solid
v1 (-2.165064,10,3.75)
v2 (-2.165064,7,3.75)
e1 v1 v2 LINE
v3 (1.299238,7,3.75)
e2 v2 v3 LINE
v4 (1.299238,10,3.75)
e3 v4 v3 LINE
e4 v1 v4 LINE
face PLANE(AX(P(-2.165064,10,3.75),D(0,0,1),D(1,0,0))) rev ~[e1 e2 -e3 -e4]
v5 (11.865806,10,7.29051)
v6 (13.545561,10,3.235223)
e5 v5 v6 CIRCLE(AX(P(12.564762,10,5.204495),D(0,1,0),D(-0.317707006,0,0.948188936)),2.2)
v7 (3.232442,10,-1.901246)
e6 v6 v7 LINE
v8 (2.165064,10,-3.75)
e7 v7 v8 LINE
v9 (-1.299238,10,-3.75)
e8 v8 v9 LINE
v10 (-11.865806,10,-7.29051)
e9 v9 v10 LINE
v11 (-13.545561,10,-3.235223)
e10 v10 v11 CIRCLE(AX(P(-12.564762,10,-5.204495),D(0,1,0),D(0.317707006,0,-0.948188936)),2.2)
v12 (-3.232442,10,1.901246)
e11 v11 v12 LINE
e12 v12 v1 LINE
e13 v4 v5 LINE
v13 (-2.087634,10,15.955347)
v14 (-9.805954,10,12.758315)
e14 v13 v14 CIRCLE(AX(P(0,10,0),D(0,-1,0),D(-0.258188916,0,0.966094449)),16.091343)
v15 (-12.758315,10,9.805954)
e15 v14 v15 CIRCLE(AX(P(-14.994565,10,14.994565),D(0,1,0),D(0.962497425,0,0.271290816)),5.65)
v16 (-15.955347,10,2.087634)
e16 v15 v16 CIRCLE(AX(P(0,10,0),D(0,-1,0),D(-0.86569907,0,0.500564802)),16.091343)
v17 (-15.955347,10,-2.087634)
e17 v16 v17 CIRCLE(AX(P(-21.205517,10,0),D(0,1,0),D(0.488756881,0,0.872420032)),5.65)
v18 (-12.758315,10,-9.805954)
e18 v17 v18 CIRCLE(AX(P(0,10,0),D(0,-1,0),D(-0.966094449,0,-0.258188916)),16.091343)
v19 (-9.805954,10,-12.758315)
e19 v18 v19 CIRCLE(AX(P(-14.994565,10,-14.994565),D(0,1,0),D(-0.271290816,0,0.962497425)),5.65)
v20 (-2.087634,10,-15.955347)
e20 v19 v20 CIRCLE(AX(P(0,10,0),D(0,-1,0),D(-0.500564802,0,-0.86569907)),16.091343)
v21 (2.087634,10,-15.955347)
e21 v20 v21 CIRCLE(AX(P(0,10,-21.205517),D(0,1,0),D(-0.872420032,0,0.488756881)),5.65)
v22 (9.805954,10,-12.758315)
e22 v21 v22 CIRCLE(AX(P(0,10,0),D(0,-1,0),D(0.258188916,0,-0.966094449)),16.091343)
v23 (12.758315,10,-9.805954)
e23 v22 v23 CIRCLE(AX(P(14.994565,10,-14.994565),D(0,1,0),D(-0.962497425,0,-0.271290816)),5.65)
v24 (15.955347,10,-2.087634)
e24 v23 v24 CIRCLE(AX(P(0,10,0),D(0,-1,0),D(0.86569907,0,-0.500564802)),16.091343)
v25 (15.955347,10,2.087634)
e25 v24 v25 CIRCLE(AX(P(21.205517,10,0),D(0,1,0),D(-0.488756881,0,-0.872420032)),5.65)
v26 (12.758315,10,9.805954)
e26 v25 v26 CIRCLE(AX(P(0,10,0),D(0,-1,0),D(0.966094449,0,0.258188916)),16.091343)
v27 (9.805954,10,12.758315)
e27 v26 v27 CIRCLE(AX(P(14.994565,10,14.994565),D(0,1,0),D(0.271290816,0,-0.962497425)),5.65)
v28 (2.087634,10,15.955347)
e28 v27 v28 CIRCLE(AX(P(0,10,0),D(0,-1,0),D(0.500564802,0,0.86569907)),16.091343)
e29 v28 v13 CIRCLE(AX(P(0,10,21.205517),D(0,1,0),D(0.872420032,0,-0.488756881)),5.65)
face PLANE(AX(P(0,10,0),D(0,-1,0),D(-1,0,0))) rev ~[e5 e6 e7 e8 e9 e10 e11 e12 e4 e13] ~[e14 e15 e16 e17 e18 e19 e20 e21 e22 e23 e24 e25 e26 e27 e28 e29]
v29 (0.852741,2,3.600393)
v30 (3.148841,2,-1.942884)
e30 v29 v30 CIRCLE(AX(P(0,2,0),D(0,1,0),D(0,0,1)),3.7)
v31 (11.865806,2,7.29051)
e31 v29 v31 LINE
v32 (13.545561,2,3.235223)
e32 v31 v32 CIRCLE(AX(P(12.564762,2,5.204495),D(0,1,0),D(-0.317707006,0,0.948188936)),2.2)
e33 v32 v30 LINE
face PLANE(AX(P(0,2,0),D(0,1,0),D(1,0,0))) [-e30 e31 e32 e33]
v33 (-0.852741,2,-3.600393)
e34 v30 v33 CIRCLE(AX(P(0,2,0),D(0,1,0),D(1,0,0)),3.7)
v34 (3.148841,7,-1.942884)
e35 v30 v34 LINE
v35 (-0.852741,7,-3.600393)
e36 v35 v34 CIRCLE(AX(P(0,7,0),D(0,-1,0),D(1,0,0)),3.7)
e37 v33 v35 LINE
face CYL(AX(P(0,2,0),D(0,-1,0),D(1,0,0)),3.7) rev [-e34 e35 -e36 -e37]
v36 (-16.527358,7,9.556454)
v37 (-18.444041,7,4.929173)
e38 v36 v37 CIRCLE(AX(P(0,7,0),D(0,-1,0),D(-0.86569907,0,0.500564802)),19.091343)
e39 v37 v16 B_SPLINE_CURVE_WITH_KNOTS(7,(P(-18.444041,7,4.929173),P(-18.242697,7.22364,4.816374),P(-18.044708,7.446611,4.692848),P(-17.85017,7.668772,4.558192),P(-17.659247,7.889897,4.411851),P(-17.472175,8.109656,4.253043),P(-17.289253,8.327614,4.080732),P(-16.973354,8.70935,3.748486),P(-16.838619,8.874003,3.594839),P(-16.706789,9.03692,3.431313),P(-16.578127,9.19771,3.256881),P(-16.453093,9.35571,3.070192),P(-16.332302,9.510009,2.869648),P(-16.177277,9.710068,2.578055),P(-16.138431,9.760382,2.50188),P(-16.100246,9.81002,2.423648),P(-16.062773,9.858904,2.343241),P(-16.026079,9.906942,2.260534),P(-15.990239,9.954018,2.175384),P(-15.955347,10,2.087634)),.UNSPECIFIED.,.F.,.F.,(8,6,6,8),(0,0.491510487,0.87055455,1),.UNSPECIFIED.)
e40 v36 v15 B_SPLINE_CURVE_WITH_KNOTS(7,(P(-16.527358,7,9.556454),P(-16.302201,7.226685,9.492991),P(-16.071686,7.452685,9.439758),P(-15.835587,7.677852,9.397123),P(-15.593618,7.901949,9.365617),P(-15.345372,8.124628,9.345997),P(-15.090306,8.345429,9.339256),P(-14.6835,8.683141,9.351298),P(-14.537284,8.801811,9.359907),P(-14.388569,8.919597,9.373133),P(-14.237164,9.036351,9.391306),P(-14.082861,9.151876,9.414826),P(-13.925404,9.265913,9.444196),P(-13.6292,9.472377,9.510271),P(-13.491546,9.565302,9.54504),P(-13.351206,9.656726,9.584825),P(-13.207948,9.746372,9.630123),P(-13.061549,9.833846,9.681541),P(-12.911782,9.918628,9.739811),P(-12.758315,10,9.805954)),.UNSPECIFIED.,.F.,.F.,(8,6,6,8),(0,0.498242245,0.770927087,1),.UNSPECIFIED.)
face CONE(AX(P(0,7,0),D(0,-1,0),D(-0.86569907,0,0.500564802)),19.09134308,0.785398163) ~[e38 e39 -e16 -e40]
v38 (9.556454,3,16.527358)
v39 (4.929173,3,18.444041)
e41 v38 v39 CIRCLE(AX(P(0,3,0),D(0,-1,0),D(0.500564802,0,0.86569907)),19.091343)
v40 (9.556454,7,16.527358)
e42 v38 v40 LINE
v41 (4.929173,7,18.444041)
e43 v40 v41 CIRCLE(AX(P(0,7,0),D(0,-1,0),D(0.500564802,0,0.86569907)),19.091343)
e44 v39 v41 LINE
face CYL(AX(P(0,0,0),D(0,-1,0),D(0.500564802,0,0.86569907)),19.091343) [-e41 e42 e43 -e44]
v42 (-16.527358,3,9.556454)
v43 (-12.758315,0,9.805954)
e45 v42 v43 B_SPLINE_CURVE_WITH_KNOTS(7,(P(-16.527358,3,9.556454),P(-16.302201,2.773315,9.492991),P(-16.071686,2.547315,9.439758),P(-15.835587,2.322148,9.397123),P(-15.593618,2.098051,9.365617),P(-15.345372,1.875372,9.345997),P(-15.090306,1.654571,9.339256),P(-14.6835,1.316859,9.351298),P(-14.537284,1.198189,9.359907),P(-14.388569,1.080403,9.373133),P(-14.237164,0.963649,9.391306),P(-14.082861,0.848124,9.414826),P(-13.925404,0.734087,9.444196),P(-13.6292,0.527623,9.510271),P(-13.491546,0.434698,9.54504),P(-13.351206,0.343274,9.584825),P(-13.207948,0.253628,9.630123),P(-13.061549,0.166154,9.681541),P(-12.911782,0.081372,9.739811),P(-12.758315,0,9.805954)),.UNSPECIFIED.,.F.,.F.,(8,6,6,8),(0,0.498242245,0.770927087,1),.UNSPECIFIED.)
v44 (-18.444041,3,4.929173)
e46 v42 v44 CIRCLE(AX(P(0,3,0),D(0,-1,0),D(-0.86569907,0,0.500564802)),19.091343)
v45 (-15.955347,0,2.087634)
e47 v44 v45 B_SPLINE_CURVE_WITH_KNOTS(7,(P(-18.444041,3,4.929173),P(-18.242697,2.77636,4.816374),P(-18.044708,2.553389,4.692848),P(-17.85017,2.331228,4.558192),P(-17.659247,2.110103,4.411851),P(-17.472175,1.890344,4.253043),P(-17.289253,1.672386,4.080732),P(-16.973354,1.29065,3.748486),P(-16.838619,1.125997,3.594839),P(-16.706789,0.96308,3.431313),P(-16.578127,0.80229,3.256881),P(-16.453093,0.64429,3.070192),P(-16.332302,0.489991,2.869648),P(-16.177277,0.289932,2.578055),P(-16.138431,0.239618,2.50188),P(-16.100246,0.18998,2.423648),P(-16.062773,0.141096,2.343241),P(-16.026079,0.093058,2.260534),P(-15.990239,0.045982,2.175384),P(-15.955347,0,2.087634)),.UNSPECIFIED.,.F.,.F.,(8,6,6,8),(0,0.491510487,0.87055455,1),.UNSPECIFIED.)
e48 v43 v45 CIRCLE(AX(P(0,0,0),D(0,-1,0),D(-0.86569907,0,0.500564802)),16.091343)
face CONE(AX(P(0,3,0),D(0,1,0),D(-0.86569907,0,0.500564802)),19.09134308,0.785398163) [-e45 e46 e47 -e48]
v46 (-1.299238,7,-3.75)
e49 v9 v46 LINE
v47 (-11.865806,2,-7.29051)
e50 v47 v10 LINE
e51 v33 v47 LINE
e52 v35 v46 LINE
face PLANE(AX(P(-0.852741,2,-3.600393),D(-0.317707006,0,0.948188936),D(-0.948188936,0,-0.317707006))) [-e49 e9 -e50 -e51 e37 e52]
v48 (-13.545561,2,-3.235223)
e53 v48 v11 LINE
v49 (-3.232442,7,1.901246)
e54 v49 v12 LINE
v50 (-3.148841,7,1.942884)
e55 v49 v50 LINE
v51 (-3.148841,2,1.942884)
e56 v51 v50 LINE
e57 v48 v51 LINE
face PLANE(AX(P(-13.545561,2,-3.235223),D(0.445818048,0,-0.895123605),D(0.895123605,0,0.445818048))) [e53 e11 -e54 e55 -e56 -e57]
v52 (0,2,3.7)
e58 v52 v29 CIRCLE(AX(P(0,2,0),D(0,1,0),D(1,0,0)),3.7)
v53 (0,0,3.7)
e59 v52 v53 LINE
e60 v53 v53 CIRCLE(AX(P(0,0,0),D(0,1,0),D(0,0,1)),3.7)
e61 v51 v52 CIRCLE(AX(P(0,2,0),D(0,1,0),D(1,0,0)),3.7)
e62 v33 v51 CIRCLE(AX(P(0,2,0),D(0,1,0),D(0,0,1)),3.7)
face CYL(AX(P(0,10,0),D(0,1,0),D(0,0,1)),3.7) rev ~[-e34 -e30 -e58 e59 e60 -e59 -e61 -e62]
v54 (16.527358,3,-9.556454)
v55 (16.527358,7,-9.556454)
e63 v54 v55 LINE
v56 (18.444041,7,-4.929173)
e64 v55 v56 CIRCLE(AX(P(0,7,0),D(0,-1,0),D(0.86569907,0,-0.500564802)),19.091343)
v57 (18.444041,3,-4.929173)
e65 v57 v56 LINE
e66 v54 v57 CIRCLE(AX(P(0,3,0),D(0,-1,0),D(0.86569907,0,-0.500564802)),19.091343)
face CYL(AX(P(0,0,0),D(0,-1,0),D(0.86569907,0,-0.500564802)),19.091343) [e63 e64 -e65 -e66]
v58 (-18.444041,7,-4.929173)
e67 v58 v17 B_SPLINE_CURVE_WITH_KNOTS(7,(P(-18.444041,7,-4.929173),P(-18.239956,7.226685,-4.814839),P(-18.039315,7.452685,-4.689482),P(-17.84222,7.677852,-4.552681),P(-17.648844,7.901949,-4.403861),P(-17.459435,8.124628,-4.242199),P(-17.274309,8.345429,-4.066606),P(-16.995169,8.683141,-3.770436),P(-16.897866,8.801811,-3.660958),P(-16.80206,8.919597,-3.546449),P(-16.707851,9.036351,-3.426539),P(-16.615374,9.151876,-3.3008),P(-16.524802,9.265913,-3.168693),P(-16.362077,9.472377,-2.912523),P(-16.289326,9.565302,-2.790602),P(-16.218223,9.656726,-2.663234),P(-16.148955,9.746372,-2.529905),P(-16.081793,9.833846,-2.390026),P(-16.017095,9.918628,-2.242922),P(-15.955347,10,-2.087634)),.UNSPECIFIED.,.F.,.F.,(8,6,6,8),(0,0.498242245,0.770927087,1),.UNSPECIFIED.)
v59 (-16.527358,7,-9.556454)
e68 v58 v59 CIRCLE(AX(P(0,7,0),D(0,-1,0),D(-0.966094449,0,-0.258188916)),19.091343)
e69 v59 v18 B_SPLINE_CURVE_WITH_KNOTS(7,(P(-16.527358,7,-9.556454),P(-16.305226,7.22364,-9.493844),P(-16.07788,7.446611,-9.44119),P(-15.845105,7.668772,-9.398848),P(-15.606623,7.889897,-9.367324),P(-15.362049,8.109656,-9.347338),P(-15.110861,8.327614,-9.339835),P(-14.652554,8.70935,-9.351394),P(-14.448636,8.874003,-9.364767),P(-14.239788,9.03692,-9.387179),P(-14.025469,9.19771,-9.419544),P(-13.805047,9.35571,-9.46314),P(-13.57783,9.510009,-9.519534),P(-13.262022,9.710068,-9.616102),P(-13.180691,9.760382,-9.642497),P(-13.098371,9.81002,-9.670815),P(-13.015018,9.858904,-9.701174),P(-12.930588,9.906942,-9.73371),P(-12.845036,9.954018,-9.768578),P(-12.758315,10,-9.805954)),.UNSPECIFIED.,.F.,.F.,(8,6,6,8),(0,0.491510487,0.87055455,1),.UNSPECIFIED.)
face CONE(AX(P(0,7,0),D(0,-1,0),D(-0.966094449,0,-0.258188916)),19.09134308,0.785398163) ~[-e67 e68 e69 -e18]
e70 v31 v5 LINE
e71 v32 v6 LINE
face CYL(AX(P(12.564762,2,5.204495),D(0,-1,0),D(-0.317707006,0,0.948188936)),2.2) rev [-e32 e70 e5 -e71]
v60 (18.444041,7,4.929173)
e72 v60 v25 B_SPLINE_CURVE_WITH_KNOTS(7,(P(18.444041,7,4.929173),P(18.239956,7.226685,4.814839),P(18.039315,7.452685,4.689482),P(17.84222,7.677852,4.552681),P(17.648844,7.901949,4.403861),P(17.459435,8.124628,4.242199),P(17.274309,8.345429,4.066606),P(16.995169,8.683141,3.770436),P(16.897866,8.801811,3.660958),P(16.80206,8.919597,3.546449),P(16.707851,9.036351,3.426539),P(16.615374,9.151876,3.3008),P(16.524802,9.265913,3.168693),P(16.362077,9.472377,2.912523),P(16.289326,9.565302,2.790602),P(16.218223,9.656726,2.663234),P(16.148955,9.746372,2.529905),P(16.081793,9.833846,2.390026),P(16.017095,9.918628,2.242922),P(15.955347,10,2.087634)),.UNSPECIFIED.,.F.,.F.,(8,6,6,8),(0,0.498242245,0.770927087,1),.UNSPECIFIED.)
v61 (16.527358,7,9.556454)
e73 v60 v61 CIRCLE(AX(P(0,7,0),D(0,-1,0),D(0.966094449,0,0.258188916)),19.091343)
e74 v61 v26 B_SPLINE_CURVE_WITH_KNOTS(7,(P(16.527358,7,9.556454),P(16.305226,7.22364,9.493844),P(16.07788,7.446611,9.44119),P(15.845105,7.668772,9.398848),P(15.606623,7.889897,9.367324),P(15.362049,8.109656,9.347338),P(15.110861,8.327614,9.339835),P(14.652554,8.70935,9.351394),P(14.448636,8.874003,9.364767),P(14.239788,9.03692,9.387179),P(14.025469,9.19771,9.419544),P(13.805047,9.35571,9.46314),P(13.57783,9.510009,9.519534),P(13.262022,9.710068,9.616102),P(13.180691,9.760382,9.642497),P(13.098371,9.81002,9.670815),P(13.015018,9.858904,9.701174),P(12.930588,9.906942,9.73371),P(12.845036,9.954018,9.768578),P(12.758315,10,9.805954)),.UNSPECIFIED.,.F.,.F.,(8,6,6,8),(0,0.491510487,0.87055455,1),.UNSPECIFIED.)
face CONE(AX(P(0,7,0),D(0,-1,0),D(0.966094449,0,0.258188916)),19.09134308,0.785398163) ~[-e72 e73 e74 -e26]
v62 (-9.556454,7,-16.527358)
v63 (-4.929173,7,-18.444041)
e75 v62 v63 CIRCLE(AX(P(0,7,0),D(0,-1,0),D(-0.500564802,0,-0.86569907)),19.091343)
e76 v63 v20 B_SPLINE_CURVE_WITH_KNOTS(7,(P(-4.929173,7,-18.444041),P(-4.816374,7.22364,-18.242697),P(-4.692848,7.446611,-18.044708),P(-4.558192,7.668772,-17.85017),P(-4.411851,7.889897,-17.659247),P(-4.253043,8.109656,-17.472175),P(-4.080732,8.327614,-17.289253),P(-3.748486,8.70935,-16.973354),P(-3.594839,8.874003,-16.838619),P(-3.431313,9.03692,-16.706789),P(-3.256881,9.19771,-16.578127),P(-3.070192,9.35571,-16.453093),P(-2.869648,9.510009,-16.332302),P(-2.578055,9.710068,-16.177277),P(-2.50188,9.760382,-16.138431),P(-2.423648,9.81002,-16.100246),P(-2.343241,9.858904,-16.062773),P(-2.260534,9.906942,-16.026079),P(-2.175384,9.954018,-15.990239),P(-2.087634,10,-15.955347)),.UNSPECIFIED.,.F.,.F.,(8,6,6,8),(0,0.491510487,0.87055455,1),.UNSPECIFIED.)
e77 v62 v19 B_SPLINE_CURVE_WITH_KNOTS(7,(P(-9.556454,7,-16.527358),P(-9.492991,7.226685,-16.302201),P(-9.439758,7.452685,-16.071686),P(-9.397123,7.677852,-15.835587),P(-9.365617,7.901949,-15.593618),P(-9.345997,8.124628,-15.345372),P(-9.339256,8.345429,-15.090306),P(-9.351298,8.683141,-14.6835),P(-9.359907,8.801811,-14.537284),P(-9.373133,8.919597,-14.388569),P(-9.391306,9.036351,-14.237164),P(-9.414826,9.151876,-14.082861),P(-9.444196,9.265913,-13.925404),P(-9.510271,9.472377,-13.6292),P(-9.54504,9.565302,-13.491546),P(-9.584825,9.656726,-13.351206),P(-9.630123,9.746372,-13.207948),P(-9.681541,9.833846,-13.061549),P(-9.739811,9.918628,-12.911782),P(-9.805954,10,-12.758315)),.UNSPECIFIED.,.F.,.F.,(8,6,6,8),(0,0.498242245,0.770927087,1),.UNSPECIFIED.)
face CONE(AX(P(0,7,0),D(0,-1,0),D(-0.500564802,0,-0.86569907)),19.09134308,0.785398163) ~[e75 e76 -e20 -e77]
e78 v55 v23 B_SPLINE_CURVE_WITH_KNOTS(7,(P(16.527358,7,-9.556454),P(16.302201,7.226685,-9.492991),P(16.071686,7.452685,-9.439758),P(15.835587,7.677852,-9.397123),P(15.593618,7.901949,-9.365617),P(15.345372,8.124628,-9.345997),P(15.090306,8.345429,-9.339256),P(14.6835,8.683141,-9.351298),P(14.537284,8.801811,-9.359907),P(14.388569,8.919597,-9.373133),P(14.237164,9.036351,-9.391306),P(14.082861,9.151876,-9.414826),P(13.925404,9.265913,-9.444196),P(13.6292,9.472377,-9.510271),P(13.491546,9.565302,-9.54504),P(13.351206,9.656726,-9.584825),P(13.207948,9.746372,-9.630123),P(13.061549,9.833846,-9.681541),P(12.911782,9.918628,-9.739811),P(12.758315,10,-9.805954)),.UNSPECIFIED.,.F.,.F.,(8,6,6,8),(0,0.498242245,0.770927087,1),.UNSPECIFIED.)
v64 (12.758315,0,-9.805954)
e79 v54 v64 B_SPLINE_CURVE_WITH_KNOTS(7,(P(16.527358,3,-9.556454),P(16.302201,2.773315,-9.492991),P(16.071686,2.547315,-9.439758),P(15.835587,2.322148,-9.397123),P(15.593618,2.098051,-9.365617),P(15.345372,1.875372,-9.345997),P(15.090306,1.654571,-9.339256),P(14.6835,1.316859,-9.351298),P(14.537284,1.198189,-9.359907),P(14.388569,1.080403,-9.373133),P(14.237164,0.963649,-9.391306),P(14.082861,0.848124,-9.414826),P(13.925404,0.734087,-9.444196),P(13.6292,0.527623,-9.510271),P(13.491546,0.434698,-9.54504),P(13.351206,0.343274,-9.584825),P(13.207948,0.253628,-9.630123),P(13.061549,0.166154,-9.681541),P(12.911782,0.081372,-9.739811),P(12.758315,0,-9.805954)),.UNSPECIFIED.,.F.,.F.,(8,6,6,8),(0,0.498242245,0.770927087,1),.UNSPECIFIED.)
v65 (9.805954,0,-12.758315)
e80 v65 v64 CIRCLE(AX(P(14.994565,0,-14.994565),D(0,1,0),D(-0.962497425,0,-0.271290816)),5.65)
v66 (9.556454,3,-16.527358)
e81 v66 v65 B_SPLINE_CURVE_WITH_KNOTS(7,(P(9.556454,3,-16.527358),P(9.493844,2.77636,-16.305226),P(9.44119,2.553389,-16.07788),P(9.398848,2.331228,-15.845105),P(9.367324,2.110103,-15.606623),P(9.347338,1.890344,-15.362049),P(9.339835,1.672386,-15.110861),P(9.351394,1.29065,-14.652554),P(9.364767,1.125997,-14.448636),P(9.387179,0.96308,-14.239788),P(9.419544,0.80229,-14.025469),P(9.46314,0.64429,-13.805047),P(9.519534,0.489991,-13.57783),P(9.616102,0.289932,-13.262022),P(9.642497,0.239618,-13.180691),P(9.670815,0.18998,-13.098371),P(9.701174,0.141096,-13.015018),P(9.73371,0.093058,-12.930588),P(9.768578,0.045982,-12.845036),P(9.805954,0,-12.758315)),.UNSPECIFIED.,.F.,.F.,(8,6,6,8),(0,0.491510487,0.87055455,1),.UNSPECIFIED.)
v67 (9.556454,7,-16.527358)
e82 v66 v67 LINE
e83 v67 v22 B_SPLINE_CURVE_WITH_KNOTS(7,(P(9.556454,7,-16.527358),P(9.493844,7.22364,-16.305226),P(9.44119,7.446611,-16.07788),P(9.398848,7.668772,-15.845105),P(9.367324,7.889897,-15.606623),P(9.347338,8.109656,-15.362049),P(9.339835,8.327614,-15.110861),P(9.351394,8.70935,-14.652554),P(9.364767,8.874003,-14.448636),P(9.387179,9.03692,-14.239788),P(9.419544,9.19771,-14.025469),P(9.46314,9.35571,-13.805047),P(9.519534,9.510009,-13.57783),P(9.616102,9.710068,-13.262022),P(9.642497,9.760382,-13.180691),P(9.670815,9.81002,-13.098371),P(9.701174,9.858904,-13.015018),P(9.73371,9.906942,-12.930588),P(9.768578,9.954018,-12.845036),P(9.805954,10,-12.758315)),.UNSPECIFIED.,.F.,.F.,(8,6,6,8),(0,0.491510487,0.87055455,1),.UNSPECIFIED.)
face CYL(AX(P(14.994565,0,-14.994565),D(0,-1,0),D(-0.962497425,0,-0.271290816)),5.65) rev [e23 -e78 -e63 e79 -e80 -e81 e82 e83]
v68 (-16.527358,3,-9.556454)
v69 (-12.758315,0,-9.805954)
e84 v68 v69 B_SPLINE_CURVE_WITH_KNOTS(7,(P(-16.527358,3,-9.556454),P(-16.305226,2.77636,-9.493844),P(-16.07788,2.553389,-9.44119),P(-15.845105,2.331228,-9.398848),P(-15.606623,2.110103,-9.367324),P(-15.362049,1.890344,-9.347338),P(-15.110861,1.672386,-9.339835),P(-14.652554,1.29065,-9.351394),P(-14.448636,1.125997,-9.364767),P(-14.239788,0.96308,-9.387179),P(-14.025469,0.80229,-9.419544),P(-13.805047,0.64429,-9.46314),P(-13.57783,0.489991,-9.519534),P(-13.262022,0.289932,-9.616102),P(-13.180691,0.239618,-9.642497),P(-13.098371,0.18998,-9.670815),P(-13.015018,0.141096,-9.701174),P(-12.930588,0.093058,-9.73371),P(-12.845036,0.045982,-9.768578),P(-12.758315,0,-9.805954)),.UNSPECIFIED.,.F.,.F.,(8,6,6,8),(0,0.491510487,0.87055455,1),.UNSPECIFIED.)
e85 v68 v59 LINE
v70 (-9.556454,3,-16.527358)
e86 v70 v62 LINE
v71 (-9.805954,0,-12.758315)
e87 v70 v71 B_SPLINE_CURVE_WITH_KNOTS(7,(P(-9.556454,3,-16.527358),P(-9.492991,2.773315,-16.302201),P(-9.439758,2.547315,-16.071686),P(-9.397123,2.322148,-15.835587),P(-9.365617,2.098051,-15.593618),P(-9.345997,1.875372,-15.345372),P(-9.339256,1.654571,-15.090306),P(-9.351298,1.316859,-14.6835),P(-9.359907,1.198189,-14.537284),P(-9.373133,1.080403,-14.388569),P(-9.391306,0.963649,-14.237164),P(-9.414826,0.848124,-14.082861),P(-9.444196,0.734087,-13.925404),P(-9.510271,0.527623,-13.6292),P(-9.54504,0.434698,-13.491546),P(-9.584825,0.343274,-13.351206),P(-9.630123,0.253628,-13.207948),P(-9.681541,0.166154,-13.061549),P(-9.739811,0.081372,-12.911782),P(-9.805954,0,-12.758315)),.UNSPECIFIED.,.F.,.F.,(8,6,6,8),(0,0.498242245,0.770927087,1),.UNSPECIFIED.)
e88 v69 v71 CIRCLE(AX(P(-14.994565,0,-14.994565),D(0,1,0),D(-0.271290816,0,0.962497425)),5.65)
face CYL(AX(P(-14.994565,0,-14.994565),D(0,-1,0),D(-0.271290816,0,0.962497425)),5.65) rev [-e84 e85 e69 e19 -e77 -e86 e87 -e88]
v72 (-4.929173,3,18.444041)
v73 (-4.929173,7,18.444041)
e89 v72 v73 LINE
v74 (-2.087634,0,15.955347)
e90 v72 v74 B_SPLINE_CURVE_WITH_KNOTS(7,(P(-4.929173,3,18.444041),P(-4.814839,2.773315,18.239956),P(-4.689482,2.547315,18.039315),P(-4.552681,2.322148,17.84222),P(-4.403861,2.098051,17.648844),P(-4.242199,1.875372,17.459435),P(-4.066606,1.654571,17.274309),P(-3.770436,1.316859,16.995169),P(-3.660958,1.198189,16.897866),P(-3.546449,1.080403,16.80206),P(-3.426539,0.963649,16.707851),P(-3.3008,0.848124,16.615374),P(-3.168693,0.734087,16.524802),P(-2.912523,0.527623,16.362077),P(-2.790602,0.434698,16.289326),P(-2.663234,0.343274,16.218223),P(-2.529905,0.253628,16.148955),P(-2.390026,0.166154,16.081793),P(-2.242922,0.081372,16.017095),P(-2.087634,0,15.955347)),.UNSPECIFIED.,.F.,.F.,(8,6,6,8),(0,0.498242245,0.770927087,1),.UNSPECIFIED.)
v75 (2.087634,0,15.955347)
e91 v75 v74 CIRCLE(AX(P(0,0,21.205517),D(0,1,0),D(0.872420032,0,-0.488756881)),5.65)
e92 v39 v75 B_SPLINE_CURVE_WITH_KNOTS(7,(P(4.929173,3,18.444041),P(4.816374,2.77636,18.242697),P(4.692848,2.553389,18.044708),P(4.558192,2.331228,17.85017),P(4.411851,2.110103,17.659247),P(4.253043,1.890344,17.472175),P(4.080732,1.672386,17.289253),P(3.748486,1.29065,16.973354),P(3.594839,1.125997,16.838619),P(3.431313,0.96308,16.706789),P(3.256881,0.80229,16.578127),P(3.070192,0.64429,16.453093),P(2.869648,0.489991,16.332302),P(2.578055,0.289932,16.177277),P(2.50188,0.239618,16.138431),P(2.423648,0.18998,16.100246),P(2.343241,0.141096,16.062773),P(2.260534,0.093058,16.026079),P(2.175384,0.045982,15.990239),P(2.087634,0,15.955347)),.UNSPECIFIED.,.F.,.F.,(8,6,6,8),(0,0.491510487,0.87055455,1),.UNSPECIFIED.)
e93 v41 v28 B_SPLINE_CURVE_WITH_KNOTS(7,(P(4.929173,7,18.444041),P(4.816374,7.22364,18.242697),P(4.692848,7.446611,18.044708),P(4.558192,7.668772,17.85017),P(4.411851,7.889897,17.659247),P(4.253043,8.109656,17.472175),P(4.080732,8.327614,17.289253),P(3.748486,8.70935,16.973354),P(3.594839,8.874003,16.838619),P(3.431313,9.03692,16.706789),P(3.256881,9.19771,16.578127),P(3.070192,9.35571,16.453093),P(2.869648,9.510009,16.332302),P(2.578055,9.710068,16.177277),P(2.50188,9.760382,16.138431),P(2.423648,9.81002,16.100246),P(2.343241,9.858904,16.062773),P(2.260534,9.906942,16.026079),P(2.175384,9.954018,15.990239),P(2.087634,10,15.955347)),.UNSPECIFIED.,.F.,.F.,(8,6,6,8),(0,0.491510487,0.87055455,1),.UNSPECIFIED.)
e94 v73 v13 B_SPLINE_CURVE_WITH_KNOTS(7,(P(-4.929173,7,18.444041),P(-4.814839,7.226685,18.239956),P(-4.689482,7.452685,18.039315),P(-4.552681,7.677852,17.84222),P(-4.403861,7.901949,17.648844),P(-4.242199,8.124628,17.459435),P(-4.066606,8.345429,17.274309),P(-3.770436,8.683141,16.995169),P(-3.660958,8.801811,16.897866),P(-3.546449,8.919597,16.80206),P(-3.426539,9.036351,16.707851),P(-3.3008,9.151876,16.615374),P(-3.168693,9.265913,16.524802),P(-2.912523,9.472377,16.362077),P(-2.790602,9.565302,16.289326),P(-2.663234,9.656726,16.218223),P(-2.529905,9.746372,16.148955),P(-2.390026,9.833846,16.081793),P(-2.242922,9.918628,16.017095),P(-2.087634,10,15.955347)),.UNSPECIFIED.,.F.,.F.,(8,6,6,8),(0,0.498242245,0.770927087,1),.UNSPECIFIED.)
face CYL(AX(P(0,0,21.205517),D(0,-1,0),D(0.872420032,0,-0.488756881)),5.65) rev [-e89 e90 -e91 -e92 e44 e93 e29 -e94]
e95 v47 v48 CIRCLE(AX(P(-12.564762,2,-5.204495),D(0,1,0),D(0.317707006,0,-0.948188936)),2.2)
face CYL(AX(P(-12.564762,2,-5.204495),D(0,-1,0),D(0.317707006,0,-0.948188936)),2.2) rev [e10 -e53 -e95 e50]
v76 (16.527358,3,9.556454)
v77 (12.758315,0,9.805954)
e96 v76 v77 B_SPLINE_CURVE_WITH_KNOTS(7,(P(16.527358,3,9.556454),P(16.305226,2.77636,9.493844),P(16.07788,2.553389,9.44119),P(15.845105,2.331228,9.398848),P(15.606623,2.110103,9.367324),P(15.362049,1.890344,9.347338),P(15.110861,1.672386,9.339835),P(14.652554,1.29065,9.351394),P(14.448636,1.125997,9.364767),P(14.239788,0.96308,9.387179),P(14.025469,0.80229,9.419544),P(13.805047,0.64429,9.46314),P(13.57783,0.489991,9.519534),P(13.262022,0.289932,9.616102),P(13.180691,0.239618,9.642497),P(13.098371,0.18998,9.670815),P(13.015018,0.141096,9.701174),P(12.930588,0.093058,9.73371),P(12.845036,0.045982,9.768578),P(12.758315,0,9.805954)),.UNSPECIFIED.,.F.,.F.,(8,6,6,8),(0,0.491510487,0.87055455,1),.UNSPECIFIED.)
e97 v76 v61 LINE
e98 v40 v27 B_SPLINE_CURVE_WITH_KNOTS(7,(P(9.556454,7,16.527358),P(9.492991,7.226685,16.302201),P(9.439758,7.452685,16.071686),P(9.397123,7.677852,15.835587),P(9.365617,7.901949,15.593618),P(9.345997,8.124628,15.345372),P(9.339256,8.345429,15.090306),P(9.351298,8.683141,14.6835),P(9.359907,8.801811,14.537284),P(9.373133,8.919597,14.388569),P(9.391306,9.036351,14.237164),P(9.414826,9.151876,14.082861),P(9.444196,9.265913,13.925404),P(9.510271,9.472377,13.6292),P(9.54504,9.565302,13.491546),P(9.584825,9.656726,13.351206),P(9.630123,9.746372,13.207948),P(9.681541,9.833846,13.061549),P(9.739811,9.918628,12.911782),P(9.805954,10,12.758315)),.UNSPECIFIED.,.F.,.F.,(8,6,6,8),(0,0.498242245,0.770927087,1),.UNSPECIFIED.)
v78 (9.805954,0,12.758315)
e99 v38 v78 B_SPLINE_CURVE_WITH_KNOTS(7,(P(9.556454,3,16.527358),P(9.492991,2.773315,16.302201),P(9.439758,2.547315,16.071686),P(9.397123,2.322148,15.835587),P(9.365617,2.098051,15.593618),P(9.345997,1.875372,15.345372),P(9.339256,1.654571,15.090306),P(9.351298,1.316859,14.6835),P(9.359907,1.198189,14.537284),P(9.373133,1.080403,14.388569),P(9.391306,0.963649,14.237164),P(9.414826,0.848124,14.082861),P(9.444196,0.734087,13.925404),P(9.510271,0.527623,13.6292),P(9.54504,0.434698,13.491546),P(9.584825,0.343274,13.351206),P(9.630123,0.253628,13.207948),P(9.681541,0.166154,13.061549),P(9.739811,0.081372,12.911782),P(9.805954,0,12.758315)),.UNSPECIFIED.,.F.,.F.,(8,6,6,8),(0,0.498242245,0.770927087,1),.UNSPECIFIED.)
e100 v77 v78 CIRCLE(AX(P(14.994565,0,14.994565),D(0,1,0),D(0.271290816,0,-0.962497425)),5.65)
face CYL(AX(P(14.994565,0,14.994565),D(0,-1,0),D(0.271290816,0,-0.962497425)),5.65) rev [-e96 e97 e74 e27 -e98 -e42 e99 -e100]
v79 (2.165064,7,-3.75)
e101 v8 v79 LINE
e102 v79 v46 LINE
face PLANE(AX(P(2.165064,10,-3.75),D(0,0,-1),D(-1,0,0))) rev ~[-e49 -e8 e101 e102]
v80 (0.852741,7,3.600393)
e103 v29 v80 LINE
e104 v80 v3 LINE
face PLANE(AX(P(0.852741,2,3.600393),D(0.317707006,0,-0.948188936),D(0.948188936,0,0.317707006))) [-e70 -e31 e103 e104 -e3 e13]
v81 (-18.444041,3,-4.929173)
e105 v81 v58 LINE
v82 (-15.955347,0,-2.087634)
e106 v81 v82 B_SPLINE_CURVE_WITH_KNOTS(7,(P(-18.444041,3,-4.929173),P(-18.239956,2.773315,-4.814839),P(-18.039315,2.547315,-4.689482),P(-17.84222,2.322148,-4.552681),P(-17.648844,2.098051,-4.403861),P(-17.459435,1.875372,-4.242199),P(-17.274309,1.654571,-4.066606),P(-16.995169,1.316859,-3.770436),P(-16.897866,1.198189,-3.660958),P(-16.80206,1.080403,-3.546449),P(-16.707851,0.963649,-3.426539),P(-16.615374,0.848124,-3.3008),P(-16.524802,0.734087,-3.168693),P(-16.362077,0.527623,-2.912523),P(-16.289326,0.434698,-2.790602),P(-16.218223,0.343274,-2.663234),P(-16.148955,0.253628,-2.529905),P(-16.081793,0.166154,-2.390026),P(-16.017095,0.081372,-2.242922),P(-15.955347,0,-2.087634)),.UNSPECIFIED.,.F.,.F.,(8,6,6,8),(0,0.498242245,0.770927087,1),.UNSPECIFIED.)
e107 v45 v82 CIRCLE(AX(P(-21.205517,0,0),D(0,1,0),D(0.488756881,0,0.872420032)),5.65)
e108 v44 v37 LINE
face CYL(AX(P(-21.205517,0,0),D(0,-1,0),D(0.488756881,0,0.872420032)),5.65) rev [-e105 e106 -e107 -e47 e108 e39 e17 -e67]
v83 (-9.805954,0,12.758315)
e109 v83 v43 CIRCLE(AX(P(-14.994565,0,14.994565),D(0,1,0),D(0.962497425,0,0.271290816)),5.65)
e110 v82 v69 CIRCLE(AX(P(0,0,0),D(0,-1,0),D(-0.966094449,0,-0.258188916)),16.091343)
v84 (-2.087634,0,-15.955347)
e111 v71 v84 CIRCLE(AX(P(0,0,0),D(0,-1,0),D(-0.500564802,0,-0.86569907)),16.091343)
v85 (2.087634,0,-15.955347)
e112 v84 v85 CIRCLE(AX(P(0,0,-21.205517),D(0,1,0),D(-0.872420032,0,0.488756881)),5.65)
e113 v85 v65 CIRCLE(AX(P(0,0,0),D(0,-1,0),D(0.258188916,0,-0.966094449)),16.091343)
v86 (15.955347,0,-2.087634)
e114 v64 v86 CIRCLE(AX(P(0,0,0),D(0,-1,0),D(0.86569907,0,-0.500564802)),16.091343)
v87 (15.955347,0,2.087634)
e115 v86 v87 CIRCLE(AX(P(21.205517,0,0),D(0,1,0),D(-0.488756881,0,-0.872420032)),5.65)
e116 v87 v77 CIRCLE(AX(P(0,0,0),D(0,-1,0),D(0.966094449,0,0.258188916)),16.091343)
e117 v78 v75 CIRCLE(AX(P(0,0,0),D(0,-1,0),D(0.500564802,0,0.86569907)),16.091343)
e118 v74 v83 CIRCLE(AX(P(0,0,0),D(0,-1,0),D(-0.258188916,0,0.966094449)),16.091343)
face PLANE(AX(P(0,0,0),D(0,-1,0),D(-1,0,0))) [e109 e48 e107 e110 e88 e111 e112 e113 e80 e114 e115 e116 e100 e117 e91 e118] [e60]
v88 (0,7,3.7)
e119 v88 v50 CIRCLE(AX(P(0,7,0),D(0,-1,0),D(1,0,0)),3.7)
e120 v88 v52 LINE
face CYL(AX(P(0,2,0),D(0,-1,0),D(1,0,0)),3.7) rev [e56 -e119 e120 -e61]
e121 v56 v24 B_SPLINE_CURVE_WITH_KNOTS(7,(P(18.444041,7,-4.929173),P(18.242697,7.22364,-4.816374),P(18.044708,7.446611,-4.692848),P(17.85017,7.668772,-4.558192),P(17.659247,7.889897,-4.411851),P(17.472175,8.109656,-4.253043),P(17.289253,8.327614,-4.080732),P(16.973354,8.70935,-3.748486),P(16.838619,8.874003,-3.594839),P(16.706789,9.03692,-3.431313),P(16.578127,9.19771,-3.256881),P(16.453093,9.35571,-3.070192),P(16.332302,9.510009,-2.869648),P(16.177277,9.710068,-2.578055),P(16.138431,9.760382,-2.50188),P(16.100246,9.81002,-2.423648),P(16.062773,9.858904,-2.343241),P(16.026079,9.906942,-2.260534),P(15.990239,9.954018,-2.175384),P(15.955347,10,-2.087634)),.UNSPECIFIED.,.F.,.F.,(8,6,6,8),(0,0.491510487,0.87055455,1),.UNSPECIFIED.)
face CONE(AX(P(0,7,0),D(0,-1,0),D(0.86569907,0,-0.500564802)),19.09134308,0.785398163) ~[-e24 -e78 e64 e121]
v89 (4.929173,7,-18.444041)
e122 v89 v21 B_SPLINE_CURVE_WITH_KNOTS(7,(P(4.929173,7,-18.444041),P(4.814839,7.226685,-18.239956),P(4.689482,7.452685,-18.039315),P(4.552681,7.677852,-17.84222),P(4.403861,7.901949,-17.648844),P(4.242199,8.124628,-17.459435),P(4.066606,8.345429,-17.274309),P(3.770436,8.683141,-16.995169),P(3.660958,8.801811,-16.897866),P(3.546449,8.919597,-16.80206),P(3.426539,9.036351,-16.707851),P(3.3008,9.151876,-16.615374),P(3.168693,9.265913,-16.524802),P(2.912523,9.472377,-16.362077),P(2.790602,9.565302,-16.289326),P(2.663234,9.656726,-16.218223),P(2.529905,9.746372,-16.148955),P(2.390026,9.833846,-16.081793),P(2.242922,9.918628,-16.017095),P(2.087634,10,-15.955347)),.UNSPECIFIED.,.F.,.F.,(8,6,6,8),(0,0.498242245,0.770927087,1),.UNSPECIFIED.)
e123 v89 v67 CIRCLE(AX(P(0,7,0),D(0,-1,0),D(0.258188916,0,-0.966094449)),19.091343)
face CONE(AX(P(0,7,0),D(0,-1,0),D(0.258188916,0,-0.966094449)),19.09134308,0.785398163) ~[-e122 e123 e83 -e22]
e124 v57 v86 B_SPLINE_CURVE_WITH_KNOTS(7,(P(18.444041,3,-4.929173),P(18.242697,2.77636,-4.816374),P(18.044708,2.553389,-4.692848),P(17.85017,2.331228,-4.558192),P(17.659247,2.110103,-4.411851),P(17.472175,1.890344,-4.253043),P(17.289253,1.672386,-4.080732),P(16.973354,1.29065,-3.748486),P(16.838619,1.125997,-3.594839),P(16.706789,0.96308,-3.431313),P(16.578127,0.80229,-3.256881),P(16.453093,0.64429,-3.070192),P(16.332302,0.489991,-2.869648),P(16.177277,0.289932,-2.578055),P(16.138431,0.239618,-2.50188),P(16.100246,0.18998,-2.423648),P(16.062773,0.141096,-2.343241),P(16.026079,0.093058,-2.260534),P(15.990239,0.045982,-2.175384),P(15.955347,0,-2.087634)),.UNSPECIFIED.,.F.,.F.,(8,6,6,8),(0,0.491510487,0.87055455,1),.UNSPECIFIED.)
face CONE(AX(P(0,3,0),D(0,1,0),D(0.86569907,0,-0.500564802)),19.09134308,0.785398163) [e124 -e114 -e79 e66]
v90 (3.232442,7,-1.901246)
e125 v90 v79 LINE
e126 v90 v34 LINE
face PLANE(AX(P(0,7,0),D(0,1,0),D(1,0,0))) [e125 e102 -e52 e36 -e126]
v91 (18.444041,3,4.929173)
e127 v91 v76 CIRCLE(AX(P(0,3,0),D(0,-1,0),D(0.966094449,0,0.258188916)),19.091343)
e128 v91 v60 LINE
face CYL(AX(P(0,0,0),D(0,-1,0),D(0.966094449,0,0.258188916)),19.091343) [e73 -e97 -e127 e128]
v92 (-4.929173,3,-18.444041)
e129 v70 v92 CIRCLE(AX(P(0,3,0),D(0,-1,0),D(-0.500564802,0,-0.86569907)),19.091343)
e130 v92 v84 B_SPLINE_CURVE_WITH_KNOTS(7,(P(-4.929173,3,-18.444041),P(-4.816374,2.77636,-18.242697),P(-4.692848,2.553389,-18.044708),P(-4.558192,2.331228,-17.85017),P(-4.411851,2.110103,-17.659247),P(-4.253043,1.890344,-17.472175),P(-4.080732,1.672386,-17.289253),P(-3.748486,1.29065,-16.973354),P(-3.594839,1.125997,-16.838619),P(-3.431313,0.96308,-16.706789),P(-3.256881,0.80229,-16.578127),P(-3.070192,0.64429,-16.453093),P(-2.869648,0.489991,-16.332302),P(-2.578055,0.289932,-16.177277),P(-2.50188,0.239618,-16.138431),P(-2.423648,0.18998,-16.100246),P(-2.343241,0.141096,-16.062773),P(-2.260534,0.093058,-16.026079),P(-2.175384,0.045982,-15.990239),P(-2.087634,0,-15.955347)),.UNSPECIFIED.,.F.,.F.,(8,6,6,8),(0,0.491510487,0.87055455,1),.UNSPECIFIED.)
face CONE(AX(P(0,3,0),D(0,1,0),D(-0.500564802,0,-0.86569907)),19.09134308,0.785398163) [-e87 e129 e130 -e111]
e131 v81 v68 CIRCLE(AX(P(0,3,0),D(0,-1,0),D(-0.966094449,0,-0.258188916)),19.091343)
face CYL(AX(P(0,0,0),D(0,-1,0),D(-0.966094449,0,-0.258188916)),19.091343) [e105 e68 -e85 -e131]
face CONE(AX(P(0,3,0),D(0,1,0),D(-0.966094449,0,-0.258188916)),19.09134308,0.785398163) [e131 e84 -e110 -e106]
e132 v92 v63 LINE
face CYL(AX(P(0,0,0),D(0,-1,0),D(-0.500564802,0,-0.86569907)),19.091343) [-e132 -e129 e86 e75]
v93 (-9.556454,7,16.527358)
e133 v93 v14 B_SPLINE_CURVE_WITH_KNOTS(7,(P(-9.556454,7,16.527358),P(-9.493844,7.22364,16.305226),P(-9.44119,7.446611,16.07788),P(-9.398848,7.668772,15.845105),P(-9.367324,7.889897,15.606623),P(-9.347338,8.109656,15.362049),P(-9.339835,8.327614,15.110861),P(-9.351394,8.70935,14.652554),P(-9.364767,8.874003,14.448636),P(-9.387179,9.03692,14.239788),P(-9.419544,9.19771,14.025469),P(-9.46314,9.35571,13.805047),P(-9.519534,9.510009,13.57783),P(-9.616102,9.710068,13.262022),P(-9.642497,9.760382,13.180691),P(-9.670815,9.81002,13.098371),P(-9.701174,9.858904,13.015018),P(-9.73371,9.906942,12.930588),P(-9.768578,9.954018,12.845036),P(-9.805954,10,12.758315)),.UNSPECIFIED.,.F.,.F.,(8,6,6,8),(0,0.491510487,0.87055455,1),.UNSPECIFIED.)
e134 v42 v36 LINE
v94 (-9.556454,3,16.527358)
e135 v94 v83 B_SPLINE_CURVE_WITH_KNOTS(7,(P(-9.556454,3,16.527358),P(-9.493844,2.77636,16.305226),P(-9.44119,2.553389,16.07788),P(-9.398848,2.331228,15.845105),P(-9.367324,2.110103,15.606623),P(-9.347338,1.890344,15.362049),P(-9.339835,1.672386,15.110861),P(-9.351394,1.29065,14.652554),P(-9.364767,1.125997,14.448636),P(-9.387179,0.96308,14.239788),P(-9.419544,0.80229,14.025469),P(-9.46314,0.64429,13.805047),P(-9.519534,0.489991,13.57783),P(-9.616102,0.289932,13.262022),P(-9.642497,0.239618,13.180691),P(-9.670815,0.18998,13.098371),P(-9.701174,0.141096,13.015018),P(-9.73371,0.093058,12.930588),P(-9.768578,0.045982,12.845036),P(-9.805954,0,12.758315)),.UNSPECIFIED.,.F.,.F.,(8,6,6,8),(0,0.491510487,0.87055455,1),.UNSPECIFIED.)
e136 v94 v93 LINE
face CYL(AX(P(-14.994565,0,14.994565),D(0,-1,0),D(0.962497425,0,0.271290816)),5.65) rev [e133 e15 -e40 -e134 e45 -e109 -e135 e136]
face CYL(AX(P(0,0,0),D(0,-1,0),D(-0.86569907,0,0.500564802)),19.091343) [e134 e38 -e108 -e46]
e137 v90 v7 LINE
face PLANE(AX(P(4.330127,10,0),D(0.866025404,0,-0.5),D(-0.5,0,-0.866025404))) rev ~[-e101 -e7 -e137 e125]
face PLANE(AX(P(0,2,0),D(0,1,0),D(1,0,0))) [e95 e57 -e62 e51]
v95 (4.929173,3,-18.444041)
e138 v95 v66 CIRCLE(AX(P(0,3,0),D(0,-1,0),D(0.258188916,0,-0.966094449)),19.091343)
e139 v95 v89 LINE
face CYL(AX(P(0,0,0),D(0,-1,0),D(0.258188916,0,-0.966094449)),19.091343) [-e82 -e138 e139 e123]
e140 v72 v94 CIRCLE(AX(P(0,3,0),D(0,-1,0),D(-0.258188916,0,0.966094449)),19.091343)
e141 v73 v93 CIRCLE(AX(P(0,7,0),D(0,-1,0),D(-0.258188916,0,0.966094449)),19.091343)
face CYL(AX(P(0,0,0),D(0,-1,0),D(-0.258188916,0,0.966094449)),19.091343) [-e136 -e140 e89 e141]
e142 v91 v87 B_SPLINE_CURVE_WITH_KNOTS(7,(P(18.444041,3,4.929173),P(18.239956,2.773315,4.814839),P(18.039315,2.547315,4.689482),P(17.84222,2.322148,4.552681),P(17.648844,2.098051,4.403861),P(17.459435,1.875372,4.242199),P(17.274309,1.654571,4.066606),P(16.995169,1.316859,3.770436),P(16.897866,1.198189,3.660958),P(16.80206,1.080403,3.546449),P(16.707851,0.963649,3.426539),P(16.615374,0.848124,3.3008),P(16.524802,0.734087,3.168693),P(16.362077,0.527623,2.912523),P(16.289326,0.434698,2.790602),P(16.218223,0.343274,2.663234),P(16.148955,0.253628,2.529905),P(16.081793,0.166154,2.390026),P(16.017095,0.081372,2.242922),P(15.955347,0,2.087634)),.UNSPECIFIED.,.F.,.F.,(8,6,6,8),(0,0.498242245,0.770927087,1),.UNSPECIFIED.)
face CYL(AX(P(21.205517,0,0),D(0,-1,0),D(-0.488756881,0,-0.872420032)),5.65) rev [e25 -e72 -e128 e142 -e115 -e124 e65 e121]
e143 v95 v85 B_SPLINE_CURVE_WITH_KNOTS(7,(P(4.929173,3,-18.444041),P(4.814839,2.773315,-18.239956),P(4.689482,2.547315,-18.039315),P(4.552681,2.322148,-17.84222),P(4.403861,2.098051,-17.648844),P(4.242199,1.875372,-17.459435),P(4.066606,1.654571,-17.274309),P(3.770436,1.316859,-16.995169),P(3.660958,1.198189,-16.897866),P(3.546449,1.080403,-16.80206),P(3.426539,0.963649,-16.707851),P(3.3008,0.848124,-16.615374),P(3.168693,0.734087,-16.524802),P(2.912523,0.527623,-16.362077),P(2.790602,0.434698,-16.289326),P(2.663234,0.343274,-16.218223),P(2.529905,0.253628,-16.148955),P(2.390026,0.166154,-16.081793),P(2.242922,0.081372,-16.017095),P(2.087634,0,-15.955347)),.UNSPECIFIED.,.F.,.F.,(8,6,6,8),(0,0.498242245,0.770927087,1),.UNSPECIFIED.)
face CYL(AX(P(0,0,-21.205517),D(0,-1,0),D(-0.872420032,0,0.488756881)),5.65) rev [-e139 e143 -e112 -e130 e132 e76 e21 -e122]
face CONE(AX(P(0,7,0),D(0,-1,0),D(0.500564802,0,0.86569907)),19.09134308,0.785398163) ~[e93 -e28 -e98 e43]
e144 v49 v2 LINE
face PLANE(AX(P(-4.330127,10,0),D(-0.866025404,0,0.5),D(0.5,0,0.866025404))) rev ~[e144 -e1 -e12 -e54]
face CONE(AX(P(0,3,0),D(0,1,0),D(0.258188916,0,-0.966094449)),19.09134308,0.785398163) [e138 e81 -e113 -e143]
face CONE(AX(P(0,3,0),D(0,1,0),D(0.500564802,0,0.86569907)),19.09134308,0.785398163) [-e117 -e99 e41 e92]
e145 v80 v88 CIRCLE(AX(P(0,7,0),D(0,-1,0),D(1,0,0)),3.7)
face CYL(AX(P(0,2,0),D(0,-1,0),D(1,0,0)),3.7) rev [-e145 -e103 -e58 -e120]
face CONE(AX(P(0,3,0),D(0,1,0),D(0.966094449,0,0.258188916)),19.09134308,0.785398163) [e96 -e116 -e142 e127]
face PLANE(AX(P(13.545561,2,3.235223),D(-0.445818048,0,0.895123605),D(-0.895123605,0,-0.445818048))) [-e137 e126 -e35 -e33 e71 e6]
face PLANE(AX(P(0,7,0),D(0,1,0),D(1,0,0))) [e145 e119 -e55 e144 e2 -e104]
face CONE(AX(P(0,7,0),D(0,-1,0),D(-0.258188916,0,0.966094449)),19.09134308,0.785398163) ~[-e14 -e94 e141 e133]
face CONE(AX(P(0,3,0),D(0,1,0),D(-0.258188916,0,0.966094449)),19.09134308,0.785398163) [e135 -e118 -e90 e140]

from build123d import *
from build123d.topology import SkipClean

# Parameters (mm, degrees)
BOSS_EXTRUDE1_DEPTH  = 10
CHAMFER1_SIZE        = 3
M4_CLEARANCE_HOLE1_D = 4.8
CUT_EXTRUDE1_START   = -8
SKETCH4_R            = 3.7
SKETCH4_R_2          = 2.4
CUT_EXTRUDE1_DEPTH   = 8
SKETCH4_3_R          = 3.7
SKETCH4_3_R_2        = 2.4
CUT_EXTRUDE2_DEPTH   = 28.935018749
CUT_EXTRUDE3_DEPTH   = 3


with BuildPart() as part:
    # Sketch1 → Boss-Extrude1 (new body)
    with BuildSketch(Plane(origin=(0, 0, 0), x_dir=(1, 0, 0), z_dir=(0, 1, 0))):
        with BuildLine():
            ThreePointArc((4.929173178, -18.444040543), (0, -15.55551692), (-4.929173178, -18.444040543))
            ThreePointArc((-4.929173178, -18.444040543), (-7.30594069, -17.6381011), (-9.556454361, -16.527357921))
            ThreePointArc((-9.556454361, -16.527357921), (-10.999411499, -10.999411499), (-16.527357921, -9.556454361))
            ThreePointArc((-16.527357921, -9.556454361), (-17.6381011, -7.30594069), (-18.444040543, -4.929173178))
            ThreePointArc((-18.444040543, -4.929173178), (-15.55551692, 0), (-18.444040543, 4.929173178))
            ThreePointArc((-18.444040543, 4.929173178), (-17.6381011, 7.30594069), (-16.527357921, 9.556454361))
            ThreePointArc((-16.527357921, 9.556454361), (-10.999411499, 10.999411499), (-9.556454361, 16.527357921))
            ThreePointArc((-9.556454361, 16.527357921), (-7.30594069, 17.6381011), (-4.929173178, 18.444040543))
            ThreePointArc((-4.929173178, 18.444040543), (0, 15.55551692), (4.929173178, 18.444040543))
            ThreePointArc((4.929173178, 18.444040543), (7.30594069, 17.6381011), (9.556454361, 16.527357921))
            ThreePointArc((9.556454361, 16.527357921), (10.999411499, 10.999411499), (16.527357921, 9.556454361))
            ThreePointArc((16.527357921, 9.556454361), (17.6381011, 7.30594069), (18.444040543, 4.929173178))
            ThreePointArc((18.444040543, 4.929173178), (15.55551692, 0), (18.444040543, -4.929173178))
            ThreePointArc((18.444040543, -4.929173178), (17.6381011, -7.30594069), (16.527357921, -9.556454361))
            ThreePointArc((16.527357921, -9.556454361), (10.999411499, -10.999411499), (9.556454361, -16.527357921))
            ThreePointArc((9.556454361, -16.527357921), (7.30594069, -17.6381011), (4.929173178, -18.444040543))
        make_face()
    extrude(amount=BOSS_EXTRUDE1_DEPTH)

    # Chamfer1
    chamfer1_edges = [part.edges().sort_by_distance(p)[0] for p in [
        (7.30594069, 10, -17.6381011),
        (17.6381011, 0, 7.30594069),
        (7.30594069, 0, 17.6381011),
        (-7.30594069, 0, 17.6381011),
        (-17.6381011, 0, 7.30594069),
        (-17.6381011, 0, -7.30594069),
        (-7.30594069, 0, -17.6381011),
        (-7.30594069, 10, -17.6381011),
        (7.30594069, 0, -17.6381011),
        (17.6381011, 0, -7.30594069),
        (-17.6381011, 10, -7.30594069),
        (-17.6381011, 10, 7.30594069),
        (-7.30594069, 10, 17.6381011),
        (17.6381011, 10, -7.30594069),
        (7.30594069, 10, 17.6381011),
        (17.6381011, 10, 7.30594069),
    ]]
    chamfer(chamfer1_edges, length=CHAMFER1_SIZE)

    # M4 Clearance Hole1 (through all)
    with Locations(Plane(origin=(0, 10, 0), x_dir=(1, 0, 0), z_dir=(0, 1, 0))):
        with Locations((0, 0)):
            Hole(M4_CLEARANCE_HOLE1_D / 2)

    # Sketch4 → Cut-Extrude1 (cut)
    # profile 1 of 4: a face of its own
    with BuildSketch(Plane(origin=(0, 10, 0), x_dir=(1, 0, 0), z_dir=(0, 1, 0)).offset(CUT_EXTRUDE1_START)):
        with BuildLine():
            ThreePointArc((-11.865806229, 7.290510339), (-14.597296614, 6.046398231), (-13.545561348, 3.23522275))
            Line((-13.545561348, 3.23522275), (-3.148841491, -1.94288375))
            ThreePointArc((-3.148841491, -1.94288375), (-3.41835427, 1.4159287), (-0.852740897, 3.600393446))
            Line((-0.852740897, 3.600393446), (-11.865806229, 7.290510339))
        make_face()
    # profile 2 of 4: a face of its own
    with BuildSketch(Plane(origin=(0, 10, 0), x_dir=(1, 0, 0), z_dir=(0, 1, 0)).offset(CUT_EXTRUDE1_START)):
        Circle(SKETCH4_R)
        with Locations(Location((0, 0, 0), (0, 0, 270))):
            Circle(SKETCH4_R_2, mode=Mode.SUBTRACT)
    # profile 3 of 4: a face of its own
    with BuildSketch(Plane(origin=(0, 10, 0), x_dir=(1, 0, 0), z_dir=(0, 1, 0)).offset(CUT_EXTRUDE1_START)):
        with Locations(Location((0, 0, 0), (0, 0, 270))):
            Circle(SKETCH4_R_2)
    # profile 4 of 4: a face of its own
    with BuildSketch(Plane(origin=(0, 10, 0), x_dir=(1, 0, 0), z_dir=(0, 1, 0)).offset(CUT_EXTRUDE1_START)):
        with BuildLine():
            ThreePointArc((3.7, 0), (2.902166546, -2.29508809), (0.852740897, -3.600393446))
            Line((0.852740897, -3.600393446), (11.865806229, -7.290510339))
            ThreePointArc((11.865806229, -7.290510339), (14.597296614, -6.046398231), (13.545561348, -3.23522275))
            Line((13.545561348, -3.23522275), (3.148841491, 1.94288375))
            ThreePointArc((3.148841491, 1.94288375), (3.559544459, 1.009773857), (3.7, 0))
        make_face()
    extrude(amount=CUT_EXTRUDE1_DEPTH, mode=Mode.SUBTRACT)

    # Sketch4<3> → Cut-Extrude2 (cut, through all)
    # profile 1 of 2: a face of its own
    with SkipClean():  # the faces are left unmerged after this step: merging them gives an invalid solid
        with BuildSketch(Plane(origin=(0, 10, 0), x_dir=(1, 0, 0), z_dir=(0, 1, 0))):
            with Locations(Location((0, 0, 0), (0, 0, 270))):
                Circle(SKETCH4_3_R)
            Circle(SKETCH4_3_R_2, mode=Mode.SUBTRACT)
        # profile 2 of 2: a face of its own
        with BuildSketch(Plane(origin=(0, 10, 0), x_dir=(1, 0, 0), z_dir=(0, 1, 0))):
            Circle(SKETCH4_3_R_2)
        extrude(amount=-CUT_EXTRUDE2_DEPTH, mode=Mode.SUBTRACT)

    # Sketch5 → Cut-Extrude3 (cut)
    with SkipClean():  # the faces are left unmerged after this step: merging them gives an invalid solid
        with BuildSketch(Plane(origin=(0, 10, 0), x_dir=(1, 0, 0), z_dir=(0, 1, 0))):
            Polygon((2.165063509, -3.75), (4.330127019, 0), (2.165063509, 3.75), (-2.165063509, 3.75), (-4.330127019, 0), (-2.165063509, -3.75), align=None)
        extrude(amount=-CUT_EXTRUDE3_DEPTH, mode=Mode.SUBTRACT)


solid = part.part
